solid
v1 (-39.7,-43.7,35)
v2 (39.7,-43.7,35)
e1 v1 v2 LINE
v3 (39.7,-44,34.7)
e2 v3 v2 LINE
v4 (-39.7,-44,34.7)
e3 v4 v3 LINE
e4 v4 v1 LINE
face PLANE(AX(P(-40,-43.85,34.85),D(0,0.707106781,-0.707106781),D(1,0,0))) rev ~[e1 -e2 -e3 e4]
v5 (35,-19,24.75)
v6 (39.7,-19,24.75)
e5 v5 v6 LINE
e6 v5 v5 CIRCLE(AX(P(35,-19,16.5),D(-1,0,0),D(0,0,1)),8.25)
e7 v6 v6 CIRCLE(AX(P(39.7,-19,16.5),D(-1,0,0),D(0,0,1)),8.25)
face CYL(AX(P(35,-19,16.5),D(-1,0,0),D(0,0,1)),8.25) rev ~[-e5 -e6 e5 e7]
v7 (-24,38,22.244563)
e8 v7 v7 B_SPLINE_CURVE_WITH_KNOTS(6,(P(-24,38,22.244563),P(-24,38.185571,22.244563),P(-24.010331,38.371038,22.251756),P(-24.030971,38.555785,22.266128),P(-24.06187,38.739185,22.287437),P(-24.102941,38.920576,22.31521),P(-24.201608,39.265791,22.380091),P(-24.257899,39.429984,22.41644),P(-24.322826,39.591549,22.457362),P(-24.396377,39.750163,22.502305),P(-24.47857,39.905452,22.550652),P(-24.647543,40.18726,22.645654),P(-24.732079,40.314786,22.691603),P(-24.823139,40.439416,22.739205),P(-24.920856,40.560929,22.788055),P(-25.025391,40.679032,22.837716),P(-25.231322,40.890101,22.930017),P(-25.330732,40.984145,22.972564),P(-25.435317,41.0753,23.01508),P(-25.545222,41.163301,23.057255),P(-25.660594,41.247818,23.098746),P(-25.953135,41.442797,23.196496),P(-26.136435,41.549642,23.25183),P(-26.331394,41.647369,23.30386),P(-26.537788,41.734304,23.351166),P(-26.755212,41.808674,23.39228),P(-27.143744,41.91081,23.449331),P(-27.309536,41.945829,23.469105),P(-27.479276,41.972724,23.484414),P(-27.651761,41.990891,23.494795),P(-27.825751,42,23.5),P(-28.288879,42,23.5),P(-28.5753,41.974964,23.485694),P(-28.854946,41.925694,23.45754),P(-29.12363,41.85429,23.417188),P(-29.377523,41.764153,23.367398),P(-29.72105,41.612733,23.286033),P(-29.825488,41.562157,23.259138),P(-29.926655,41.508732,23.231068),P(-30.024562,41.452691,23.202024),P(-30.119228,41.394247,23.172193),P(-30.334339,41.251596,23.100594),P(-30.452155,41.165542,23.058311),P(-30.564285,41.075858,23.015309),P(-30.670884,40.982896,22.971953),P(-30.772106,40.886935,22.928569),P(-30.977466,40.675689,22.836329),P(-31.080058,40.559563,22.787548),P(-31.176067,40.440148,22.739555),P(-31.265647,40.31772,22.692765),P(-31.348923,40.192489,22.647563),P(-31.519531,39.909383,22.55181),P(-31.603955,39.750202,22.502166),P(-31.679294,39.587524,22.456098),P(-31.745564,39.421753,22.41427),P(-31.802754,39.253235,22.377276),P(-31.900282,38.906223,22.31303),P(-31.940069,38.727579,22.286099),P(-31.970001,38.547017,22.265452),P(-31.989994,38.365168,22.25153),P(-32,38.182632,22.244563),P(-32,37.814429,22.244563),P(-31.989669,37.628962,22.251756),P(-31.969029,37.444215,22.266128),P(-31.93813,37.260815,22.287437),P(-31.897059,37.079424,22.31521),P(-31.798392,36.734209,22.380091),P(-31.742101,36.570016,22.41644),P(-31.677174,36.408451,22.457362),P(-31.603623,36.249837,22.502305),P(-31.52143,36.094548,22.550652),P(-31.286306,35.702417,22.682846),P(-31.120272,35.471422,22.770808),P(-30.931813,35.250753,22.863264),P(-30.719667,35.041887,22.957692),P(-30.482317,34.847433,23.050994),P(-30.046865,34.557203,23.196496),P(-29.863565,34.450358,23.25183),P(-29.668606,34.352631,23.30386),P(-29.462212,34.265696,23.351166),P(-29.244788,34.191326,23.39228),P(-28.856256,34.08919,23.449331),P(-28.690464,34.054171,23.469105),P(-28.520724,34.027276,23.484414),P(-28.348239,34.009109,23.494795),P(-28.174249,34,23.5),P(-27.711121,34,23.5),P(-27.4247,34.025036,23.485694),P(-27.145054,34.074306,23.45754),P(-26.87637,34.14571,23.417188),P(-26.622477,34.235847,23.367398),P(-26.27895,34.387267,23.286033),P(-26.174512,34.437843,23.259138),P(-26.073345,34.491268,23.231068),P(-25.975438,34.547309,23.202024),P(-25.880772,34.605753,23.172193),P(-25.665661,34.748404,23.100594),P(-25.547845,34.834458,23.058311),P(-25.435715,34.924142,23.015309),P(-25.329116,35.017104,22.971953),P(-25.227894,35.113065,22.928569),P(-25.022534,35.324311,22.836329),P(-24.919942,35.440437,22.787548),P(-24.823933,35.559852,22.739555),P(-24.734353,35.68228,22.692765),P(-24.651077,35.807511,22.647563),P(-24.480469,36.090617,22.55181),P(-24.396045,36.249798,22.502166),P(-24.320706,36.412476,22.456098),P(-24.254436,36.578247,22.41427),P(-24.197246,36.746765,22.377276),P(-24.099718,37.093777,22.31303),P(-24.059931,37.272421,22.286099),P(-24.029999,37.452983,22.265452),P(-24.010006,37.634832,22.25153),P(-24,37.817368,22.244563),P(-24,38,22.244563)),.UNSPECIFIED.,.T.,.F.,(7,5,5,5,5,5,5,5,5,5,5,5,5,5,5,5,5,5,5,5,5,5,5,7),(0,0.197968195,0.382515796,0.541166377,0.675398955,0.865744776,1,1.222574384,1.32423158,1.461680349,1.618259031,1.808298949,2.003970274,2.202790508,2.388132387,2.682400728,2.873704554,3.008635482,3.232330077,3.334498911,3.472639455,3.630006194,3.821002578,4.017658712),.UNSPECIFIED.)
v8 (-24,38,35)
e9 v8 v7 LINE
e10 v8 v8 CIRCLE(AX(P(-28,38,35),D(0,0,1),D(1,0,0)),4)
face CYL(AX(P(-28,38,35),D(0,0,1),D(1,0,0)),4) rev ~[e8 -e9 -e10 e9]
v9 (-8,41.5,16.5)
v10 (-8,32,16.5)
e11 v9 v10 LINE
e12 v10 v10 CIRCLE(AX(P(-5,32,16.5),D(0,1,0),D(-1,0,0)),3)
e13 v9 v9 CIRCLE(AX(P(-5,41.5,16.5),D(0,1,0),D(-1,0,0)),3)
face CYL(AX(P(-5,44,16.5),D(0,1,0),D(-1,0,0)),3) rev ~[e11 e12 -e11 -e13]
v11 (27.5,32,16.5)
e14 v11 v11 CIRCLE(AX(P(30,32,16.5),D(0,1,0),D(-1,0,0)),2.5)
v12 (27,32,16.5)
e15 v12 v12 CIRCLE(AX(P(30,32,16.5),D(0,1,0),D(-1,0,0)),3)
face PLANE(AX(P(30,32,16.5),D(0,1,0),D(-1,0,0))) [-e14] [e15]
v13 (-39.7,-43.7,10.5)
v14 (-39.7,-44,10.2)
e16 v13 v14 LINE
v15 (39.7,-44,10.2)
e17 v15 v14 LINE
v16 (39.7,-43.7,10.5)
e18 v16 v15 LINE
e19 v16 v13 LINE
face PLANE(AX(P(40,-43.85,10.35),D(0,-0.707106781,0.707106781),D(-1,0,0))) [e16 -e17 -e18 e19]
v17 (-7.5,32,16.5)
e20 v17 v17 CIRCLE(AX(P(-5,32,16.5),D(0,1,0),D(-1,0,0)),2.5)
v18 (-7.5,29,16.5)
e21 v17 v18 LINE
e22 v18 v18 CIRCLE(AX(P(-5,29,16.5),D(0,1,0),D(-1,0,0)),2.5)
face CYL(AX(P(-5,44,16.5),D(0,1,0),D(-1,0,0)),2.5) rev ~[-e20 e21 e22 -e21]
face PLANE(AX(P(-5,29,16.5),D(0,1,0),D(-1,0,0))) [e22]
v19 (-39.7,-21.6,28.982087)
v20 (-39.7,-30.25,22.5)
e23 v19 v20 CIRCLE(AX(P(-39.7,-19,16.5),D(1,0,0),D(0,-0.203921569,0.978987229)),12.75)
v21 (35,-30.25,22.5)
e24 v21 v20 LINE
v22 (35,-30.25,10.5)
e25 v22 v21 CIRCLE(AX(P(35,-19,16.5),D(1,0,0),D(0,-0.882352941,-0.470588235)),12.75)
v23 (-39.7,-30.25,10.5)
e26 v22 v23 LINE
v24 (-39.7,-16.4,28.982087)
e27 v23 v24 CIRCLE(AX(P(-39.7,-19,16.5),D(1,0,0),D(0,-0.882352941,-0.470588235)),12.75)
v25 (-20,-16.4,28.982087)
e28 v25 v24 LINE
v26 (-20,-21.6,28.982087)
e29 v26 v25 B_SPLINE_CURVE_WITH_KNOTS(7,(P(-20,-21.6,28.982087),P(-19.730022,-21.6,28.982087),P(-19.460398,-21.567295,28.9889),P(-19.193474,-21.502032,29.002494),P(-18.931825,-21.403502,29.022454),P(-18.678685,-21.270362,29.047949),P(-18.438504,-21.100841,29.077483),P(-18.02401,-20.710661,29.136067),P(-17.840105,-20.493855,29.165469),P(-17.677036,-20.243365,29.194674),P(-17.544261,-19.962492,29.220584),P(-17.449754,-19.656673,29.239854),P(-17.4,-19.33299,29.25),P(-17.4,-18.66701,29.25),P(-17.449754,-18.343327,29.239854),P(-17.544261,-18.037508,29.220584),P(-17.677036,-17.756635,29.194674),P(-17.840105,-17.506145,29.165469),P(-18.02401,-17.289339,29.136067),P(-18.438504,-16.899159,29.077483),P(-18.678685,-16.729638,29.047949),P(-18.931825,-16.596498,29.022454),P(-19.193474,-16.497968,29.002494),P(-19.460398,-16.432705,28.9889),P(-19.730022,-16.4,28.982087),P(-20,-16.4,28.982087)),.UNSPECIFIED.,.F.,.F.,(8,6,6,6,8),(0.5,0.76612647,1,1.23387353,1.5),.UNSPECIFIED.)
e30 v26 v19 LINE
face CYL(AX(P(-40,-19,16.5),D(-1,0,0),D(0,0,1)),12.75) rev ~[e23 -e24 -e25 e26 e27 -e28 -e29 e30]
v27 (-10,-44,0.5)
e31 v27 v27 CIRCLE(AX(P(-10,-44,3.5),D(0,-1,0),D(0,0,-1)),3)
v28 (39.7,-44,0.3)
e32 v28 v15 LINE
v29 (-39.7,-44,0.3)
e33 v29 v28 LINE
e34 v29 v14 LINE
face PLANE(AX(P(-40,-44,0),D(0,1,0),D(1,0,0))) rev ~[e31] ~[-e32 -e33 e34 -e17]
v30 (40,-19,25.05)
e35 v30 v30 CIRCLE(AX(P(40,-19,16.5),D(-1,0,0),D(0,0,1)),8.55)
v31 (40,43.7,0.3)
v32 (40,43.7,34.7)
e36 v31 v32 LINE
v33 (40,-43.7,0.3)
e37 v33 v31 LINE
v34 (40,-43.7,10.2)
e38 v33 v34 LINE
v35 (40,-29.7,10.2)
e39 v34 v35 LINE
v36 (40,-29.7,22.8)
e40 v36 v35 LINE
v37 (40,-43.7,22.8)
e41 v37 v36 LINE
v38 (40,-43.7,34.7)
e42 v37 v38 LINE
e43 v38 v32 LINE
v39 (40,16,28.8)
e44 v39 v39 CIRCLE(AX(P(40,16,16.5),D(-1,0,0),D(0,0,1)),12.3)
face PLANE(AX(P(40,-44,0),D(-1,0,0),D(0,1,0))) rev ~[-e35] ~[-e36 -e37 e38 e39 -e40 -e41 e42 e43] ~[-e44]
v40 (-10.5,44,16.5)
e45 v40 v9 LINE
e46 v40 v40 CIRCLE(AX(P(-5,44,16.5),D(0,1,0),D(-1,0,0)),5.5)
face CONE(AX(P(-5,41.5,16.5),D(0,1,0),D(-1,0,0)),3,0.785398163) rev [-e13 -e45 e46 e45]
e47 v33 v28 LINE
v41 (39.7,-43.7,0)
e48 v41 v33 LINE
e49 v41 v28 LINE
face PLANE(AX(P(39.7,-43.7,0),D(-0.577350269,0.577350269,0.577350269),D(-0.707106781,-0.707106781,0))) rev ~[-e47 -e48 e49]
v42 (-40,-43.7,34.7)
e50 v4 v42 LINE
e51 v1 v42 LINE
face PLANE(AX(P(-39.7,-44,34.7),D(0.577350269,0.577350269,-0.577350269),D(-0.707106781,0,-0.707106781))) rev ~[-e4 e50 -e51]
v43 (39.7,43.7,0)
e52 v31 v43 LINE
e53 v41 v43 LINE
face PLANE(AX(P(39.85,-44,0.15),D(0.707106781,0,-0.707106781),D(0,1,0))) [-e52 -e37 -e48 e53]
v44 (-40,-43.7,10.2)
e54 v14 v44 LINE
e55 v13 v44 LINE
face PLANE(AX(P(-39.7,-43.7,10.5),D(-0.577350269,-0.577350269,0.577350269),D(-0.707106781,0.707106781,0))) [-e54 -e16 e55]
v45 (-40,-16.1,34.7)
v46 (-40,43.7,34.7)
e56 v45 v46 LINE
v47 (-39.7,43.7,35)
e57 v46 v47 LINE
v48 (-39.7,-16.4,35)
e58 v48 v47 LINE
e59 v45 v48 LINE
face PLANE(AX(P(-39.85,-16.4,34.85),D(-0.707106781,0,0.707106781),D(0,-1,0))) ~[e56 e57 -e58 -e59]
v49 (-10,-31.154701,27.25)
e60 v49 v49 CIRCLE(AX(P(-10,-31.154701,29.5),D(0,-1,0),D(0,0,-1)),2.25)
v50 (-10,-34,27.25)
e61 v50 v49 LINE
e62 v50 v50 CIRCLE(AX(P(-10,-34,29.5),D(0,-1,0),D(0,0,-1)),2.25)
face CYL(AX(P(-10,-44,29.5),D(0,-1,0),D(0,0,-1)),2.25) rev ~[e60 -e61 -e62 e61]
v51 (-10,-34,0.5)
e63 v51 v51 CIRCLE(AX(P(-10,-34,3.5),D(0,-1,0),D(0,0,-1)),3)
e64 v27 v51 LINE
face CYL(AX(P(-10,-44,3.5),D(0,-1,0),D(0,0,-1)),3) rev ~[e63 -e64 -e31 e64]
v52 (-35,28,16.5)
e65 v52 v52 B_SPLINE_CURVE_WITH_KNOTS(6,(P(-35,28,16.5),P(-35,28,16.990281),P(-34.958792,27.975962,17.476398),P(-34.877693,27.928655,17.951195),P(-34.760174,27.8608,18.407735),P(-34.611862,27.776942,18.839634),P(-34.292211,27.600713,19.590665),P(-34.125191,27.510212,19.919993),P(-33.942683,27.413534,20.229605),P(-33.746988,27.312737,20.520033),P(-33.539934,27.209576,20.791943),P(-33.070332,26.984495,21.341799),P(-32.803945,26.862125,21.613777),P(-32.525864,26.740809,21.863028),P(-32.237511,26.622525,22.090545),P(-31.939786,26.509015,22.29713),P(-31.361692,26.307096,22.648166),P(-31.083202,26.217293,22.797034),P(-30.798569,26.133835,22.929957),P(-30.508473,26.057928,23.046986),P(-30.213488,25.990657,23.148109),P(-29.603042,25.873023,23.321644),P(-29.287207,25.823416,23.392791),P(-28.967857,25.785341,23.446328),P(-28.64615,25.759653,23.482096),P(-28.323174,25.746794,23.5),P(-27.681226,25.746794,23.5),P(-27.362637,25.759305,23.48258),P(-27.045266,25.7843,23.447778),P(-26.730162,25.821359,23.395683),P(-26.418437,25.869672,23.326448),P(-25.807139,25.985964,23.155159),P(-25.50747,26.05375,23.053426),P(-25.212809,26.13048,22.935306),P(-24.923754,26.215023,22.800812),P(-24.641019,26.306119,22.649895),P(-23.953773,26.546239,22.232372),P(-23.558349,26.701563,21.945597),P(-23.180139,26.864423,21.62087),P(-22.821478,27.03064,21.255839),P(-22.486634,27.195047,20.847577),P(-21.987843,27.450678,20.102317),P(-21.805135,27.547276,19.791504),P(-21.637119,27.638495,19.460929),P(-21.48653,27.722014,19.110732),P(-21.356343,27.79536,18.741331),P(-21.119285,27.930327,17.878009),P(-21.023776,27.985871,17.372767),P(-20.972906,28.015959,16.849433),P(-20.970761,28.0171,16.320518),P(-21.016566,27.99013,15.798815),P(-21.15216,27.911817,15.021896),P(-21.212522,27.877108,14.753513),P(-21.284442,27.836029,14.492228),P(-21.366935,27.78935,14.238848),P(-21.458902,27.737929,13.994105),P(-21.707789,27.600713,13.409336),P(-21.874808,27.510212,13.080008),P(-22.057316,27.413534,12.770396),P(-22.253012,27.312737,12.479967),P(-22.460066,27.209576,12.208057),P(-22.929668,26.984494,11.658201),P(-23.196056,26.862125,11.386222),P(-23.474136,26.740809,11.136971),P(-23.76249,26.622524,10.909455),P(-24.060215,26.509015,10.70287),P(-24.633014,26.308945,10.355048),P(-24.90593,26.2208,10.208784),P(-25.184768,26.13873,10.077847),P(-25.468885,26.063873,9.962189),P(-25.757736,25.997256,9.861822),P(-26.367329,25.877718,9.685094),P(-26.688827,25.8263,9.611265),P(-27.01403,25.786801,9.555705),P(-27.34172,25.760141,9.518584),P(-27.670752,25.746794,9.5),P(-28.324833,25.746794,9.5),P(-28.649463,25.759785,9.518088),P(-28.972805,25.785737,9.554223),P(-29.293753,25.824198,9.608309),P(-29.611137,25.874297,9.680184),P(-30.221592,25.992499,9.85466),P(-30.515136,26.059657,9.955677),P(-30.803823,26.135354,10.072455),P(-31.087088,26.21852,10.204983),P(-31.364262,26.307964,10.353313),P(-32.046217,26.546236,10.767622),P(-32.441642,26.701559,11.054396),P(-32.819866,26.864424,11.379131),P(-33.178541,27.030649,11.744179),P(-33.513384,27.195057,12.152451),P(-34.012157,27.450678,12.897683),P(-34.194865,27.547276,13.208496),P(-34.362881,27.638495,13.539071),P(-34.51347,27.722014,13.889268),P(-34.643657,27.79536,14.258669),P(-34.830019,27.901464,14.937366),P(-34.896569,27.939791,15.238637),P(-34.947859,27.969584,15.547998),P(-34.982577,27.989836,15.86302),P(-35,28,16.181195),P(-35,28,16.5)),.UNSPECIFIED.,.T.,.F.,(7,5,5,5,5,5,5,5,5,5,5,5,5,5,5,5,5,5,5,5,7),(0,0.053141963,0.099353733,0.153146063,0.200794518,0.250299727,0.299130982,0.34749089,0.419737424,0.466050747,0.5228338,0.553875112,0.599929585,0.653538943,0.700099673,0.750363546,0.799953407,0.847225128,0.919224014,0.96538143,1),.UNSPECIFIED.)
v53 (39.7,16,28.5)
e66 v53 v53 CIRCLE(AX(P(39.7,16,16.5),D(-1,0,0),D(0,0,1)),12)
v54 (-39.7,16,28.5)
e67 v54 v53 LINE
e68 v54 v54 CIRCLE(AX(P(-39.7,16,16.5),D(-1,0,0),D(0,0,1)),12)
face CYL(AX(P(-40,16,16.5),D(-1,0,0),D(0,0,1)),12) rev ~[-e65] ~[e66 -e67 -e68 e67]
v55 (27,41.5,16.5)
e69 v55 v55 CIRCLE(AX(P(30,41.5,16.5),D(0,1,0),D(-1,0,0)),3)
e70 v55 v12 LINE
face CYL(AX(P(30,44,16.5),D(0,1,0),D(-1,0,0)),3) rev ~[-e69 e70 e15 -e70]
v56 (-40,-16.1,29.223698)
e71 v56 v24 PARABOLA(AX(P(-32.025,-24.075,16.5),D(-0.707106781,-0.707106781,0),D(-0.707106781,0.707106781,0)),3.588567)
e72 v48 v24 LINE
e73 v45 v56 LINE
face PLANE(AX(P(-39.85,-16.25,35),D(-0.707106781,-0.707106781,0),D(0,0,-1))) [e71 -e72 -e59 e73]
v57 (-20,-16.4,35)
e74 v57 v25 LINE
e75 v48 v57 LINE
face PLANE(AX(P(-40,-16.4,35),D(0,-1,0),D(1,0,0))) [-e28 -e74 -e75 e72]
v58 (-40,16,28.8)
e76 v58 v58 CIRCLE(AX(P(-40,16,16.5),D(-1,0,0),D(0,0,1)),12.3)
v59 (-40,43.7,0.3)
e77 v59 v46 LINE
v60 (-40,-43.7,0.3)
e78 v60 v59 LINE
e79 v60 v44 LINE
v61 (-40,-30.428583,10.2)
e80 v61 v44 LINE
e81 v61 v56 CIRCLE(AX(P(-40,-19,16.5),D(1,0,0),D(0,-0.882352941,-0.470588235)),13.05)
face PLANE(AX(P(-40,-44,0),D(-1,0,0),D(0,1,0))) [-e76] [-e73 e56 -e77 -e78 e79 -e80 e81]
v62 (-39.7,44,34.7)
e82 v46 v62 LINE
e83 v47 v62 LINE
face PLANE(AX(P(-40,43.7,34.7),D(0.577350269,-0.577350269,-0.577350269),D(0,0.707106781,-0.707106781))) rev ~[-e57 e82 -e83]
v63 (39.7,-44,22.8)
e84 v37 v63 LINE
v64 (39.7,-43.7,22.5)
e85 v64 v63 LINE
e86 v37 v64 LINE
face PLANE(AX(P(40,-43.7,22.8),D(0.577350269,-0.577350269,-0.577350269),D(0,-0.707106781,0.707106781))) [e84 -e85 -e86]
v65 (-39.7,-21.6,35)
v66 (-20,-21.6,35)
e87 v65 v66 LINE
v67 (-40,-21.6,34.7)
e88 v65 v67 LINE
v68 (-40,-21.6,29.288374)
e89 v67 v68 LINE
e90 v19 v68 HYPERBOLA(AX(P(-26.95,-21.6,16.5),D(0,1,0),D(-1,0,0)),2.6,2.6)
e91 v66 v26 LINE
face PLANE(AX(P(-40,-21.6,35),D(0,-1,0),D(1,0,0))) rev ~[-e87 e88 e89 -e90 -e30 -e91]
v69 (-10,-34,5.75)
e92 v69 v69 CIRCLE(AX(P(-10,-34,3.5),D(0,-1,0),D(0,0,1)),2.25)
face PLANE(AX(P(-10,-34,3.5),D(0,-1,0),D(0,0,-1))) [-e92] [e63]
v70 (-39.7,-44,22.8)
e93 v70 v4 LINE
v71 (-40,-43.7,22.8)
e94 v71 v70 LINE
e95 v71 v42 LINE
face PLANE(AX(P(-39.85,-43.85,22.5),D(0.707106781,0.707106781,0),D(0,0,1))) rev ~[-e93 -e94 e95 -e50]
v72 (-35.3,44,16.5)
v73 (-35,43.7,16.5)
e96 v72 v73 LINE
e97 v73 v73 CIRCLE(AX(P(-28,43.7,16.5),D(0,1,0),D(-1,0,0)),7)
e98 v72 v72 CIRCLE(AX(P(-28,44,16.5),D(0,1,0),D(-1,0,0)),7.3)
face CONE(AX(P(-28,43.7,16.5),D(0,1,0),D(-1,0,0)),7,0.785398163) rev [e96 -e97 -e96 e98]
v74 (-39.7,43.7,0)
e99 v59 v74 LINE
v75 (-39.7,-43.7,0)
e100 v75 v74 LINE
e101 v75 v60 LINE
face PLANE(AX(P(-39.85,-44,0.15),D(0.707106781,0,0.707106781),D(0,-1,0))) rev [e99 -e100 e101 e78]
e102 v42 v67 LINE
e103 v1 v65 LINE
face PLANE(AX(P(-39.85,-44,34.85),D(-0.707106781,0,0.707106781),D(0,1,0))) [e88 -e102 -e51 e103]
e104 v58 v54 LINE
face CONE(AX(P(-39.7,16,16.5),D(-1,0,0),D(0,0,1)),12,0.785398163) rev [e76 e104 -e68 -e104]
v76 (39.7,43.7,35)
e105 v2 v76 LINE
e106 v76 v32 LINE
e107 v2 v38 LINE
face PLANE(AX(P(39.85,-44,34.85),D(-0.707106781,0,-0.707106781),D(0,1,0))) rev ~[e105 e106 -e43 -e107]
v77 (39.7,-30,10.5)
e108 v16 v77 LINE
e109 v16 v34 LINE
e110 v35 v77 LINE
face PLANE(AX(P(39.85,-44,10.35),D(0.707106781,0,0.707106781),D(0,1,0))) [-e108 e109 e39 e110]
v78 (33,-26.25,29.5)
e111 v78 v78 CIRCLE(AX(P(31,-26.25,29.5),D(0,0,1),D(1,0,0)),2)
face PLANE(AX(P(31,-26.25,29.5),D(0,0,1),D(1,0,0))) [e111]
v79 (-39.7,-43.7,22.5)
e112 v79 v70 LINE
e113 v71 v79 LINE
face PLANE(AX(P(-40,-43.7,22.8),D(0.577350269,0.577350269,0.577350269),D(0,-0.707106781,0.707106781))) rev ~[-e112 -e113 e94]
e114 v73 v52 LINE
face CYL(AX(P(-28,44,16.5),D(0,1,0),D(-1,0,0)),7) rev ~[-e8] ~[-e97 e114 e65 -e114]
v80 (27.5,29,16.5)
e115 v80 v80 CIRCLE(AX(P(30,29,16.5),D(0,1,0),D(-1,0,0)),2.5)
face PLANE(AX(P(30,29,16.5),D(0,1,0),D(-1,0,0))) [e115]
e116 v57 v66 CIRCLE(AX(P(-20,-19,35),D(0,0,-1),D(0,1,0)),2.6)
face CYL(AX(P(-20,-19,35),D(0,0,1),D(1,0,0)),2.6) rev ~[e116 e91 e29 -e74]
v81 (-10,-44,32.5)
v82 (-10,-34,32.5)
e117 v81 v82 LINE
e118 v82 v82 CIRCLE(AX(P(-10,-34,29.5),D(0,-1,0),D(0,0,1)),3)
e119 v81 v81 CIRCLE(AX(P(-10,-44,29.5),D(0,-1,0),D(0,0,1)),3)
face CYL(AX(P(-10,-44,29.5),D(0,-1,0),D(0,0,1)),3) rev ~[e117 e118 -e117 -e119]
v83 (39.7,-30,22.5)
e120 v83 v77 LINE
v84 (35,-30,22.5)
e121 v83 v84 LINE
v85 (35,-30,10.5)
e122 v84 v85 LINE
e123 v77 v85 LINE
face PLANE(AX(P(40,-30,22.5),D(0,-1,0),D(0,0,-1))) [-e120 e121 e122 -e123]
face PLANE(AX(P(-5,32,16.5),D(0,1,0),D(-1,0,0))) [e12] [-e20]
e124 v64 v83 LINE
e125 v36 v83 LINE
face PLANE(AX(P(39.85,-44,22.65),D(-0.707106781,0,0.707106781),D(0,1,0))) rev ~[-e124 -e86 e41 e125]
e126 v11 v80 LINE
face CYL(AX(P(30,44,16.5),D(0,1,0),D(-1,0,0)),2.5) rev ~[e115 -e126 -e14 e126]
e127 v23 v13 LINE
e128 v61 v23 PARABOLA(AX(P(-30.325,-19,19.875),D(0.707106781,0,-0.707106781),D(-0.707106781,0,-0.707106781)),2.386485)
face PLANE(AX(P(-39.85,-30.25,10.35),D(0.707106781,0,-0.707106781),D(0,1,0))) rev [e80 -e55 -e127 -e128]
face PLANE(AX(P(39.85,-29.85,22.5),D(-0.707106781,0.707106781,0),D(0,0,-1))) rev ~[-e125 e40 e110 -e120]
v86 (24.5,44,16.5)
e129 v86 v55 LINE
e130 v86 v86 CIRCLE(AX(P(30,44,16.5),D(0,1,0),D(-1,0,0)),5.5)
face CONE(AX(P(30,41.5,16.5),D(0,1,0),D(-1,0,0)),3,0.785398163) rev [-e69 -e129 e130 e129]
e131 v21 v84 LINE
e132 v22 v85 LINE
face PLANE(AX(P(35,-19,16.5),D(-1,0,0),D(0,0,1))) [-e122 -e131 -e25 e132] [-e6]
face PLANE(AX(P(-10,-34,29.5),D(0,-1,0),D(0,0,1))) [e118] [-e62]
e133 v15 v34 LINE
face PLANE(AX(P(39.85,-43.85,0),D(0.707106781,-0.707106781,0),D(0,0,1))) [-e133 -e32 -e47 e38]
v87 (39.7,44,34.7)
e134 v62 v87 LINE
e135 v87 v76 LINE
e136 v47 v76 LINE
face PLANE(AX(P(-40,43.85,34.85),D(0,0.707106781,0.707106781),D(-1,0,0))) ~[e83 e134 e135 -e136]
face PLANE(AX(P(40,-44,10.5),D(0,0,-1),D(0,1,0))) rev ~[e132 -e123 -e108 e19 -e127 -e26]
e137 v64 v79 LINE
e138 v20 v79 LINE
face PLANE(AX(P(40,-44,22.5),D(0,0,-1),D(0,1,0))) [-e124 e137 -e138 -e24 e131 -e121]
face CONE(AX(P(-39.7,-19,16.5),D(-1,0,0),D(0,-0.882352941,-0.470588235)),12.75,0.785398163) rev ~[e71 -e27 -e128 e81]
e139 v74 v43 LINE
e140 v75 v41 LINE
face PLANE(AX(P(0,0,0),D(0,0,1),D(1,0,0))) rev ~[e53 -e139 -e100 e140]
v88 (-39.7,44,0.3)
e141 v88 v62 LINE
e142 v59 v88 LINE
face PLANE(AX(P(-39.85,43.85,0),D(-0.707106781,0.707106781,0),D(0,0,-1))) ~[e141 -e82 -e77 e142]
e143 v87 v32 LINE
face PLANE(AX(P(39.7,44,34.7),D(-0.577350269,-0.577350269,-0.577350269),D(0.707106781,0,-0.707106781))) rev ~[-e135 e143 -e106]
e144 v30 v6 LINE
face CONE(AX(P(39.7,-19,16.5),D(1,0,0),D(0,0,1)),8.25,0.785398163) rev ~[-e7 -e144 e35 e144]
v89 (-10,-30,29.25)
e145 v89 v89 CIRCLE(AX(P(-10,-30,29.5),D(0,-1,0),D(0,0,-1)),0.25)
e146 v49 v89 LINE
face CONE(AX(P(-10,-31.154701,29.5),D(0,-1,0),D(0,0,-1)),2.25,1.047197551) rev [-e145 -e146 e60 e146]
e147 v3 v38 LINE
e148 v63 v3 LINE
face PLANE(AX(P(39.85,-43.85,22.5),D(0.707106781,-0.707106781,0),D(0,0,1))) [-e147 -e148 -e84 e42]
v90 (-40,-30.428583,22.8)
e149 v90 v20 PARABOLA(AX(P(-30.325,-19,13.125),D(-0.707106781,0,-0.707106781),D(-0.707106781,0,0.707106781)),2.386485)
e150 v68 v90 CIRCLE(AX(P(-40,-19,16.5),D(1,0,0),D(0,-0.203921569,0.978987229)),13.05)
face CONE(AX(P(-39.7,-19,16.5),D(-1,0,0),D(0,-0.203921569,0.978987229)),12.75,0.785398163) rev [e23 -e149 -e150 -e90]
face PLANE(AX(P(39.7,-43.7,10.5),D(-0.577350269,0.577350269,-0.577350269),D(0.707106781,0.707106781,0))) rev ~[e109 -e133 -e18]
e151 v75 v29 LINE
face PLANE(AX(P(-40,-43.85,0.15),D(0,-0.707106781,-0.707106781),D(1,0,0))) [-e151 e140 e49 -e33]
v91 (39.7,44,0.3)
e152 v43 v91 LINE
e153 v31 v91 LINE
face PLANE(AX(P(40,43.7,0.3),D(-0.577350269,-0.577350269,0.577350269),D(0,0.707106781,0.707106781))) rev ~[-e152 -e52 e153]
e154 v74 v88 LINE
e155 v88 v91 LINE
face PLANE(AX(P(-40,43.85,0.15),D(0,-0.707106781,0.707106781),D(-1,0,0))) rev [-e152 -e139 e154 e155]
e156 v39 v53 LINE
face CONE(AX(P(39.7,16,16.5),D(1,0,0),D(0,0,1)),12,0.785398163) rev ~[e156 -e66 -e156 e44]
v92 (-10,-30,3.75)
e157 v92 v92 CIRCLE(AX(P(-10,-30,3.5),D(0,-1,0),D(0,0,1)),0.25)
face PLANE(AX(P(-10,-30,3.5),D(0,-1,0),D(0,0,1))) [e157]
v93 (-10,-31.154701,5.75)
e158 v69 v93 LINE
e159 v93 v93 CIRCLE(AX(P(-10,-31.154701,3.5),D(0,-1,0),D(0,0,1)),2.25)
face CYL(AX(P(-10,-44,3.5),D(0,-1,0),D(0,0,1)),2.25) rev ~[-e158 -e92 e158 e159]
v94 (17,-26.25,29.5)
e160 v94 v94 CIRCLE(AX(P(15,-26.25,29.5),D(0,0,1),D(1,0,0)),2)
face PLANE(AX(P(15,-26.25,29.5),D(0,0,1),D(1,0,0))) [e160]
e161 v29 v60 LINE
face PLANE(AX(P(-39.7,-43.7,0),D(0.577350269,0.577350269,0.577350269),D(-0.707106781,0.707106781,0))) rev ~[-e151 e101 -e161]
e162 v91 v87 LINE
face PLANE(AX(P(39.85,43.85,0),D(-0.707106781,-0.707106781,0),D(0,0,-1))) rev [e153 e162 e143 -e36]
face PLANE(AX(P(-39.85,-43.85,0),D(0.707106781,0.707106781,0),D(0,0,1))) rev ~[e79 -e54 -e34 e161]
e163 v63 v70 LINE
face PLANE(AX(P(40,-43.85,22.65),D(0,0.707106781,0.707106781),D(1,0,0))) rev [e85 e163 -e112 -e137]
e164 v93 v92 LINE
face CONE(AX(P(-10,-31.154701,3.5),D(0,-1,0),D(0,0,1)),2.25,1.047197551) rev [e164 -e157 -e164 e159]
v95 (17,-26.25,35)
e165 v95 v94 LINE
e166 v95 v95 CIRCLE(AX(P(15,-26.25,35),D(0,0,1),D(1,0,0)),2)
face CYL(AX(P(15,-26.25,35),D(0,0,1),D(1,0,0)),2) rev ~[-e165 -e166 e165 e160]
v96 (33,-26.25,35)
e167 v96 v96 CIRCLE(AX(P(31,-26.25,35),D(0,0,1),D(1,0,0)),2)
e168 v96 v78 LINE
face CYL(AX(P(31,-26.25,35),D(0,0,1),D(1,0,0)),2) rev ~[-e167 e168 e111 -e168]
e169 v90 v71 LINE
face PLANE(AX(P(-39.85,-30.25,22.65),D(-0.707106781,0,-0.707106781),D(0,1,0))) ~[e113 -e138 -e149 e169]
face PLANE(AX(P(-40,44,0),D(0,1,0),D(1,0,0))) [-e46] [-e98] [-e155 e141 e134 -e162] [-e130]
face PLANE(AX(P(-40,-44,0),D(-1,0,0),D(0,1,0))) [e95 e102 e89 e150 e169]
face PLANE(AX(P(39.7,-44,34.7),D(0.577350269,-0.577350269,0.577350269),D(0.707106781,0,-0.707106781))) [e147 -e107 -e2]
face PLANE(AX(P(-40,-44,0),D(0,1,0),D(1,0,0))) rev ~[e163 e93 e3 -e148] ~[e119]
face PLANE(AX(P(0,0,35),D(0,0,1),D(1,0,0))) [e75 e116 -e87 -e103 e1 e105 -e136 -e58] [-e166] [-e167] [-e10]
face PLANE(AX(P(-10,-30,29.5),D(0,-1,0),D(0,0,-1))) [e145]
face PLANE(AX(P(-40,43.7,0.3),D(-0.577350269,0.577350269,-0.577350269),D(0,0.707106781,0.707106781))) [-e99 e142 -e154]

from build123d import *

# Parameters (mm, degrees)
ESQUISSE1_W                   = 80
ESQUISSE1_H                   = 88
BASE_EXTRUSION_DEPTH          = 35
ESQUISSE4_R                   = 12
BOSS_EXTRU_2_DEPTH            = 80
ESQUISSE5_R                   = 12
ENL_V_MAT_EXTRU_1_DEPTH       = 145
ESQUISSE6_W                   = 12
ESQUISSE6_H                   = 14
ENL_V_MAT_EXTRU_2_DEPTH       = 145
ESQUISSE12_R                  = 12.75
ENL_V_MAT_EXTRU_4_DEPTH       = 75
ESQUISSE13_R                  = 8.25
ENL_V_MAT_EXTRU_5_DEPTH       = 94.733665244
ESQUISSE17_W                  = 20
ESQUISSE17_H                  = 5.2
ENL_V_MAT_EXTRU_9_DEPTH       = 10
ESQUISSE18_R                  = 2.6
ENL_V_MAT_EXTRU_10_DEPTH      = 10
ESQUISSE20_R                  = 2.25
ENL_V_MAT_EXTRU_12_DEPTH      = 14
ESQUISSE21_R                  = 3
ENL_V_MAT_EXTRU_13_DEPTH      = 10
CHANFREIN9_SIZE               = 1.154700538
CHANFREIN9_SIZE2              = 2
CHANFREIN20_SIZE              = 1.154700538
CHANFREIN20_SIZE2             = 2
ESQUISSE22_R                  = 2
ENL_V_MAT_EXTRU_15_DEPTH      = 5.5
ESQUISSE24_R                  = 7
ENL_V_MAT_EXTRU_23_DEPTH      = 25
ENL_V_MAT_EXTRU_24_REACH      = 71
ENL_V_MAT_EXTRU_24_END_RADIUS = 7
ESQUISSE25_R                  = 4
ESQUISSE26_R                  = 2.5
ENL_V_MAT_EXTRU_25_DEPTH      = 15
ESQUISSE28_R                  = 3
ENL_V_MAT_EXTRU_26_DEPTH      = 12
CHANFREIN27_SIZE              = 2.5
CHANFREIN29_SIZE              = 0.3


with BuildPart() as part:
    # Esquisse1 → Base-Extrusion (new body)
    with BuildSketch(Plane.XY):
        Rectangle(ESQUISSE1_W, ESQUISSE1_H)
    extrude(amount=BASE_EXTRUSION_DEPTH)

    # Esquisse4 → Boss.-Extru.2 (add, through all)
    with BuildSketch(Plane.ZY.offset(40)):
        with Locations((16.5, 16)):
            Circle(ESQUISSE4_R)
    extrude(amount=-BOSS_EXTRU_2_DEPTH)

    # Esquisse5 → Enlèv. mat.-Extru.1 (cut)
    with BuildSketch(Plane.ZY.offset(40)):
        with Locations((16.5, 16)):
            Circle(ESQUISSE5_R)
    extrude(amount=-ENL_V_MAT_EXTRU_1_DEPTH, mode=Mode.SUBTRACT)

    # Esquisse6 → Enlèv. mat.-Extru.2 (cut)
    with BuildSketch(Plane(origin=(40, 0, 0), x_dir=(0, 0, -1), z_dir=(1, 0, 0))):
        with Locations((-16.5, -37)):
            Rectangle(ESQUISSE6_W, ESQUISSE6_H)
    extrude(amount=-ENL_V_MAT_EXTRU_2_DEPTH, mode=Mode.SUBTRACT)

    # Esquisse12 → Enlèv. mat.-Extru.4 (cut)
    with BuildSketch(Plane.ZY.offset(40)):
        with Locations((16.5, -19)):
            Circle(ESQUISSE12_R)
    extrude(amount=-ENL_V_MAT_EXTRU_4_DEPTH, mode=Mode.SUBTRACT)

    # Esquisse13 → Enlèv. mat.-Extru.5 (cut, through all)
    with BuildSketch(Plane.ZY.offset(-35)):
        with Locations((16.5, -19)):
            Circle(ESQUISSE13_R)
    extrude(amount=-ENL_V_MAT_EXTRU_5_DEPTH, mode=Mode.SUBTRACT)

    # Esquisse17 → Enlèv. mat.-Extru.9 (cut)
    with BuildSketch(Plane.XY.offset(35)):
        with Locations((-30, -19)):
            Rectangle(ESQUISSE17_W, ESQUISSE17_H)
    extrude(amount=-ENL_V_MAT_EXTRU_9_DEPTH, mode=Mode.SUBTRACT)

    # Esquisse18 → Enlèv. mat.-Extru.10 (cut)
    with BuildSketch(Plane.XY.offset(35)):
        with Locations((-20, -19)):
            Circle(ESQUISSE18_R)
    extrude(amount=-ENL_V_MAT_EXTRU_10_DEPTH, mode=Mode.SUBTRACT)

    # Esquisse20 → Enlèv. mat.-Extru.12 (cut)
    with BuildSketch(Plane.XZ.offset(44)):
        with Locations(Location((-10, 29.5, 0), (0, 0, 270))):
            Circle(ESQUISSE20_R)
        with Locations(Location((-10, 3.5, 0), (0, 0, 90))):
            Circle(ESQUISSE20_R)
    extrude(amount=-ENL_V_MAT_EXTRU_12_DEPTH, mode=Mode.SUBTRACT)

    # Esquisse21 → Enlèv. mat.-Extru.13 (cut)
    with BuildSketch(Plane.XZ.offset(44)):
        with Locations(Location((-10, 3.5, 0), (0, 0, 270))):
            Circle(ESQUISSE21_R)
        with Locations(Location((-10, 29.5, 0), (0, 0, 90))):
            Circle(ESQUISSE21_R)
    extrude(amount=-ENL_V_MAT_EXTRU_13_DEPTH, mode=Mode.SUBTRACT)

    # Chanfrein9
    chanfrein9_edges = [part.edges().sort_by_distance(p)[0] for p in [
        (-10, -30, 1.25),
    ]]
    chanfrein9_side = [part.faces().sort_by_distance(p)[0] for p in [
        (-10, -32, 1.25),
    ]]
    chamfer(chanfrein9_edges, length=CHANFREIN9_SIZE, length2=CHANFREIN9_SIZE2, reference=chanfrein9_side[0])

    # Chanfrein20
    chanfrein20_edges = [part.edges().sort_by_distance(p)[0] for p in [
        (-10, -30, 31.75),
    ]]
    chanfrein20_side = [part.faces().sort_by_distance(p)[0] for p in [
        (-10, -32, 31.75),
    ]]
    chamfer(chanfrein20_edges, length=CHANFREIN20_SIZE, length2=CHANFREIN20_SIZE2, reference=chanfrein20_side[0])

    # Esquisse22 → Enlèv. mat.-Extru.15 (cut)
    with BuildSketch(Plane.XY.offset(35)):
        with Locations((31, -26.25)):
            Circle(ESQUISSE22_R)
        with Locations((15, -26.25)):
            Circle(ESQUISSE22_R)
    extrude(amount=-ENL_V_MAT_EXTRU_15_DEPTH, mode=Mode.SUBTRACT)

    # Esquisse24 → Enlèv. mat.-Extru.23 (cut)
    with BuildSketch(Plane(origin=(0, 44, 0), x_dir=(-1, 0, 0), z_dir=(0, 1, 0))):
        with Locations((28, 16.5)):
            Circle(ESQUISSE24_R)
    extrude(amount=-ENL_V_MAT_EXTRU_23_DEPTH, mode=Mode.SUBTRACT)

    # Enlèv. mat.-Extru.24: up to this cylinder (the profile starts outside it)
    enl_v_mat_extru_24_end = Plane(origin=(-28, 38, 16.5), z_dir=(0, 1, 0)) * Cylinder(ENL_V_MAT_EXTRU_24_END_RADIUS, 157, mode=Mode.PRIVATE)
    # Esquisse25 → Enlèv. mat.-Extru.24 (cut, up to the surface)
    with BuildSketch(Plane.XY.offset(35), mode=Mode.PRIVATE) as enl_v_mat_extru_24_sk1:
        with Locations((-28, 38)):
            Circle(ESQUISSE25_R)
    enl_v_mat_extru_24_tool1 = extrude(enl_v_mat_extru_24_sk1.sketch, amount=-ENL_V_MAT_EXTRU_24_REACH, mode=Mode.PRIVATE) - enl_v_mat_extru_24_end
    add(enl_v_mat_extru_24_tool1.solids().sort_by_distance((-28, 38, 35))[0], mode=Mode.SUBTRACT)

    # Esquisse26 → Enlèv. mat.-Extru.25 (cut)
    with BuildSketch(Plane(origin=(0, 44, 0), x_dir=(-1, 0, 0), z_dir=(0, 1, 0))):
        with Locations((-30, 16.5)):
            Circle(ESQUISSE26_R)
        with Locations((5, 16.5)):
            Circle(ESQUISSE26_R)
    extrude(amount=-ENL_V_MAT_EXTRU_25_DEPTH, mode=Mode.SUBTRACT)

    # Esquisse28 → Enlèv. mat.-Extru.26 (cut)
    with BuildSketch(Plane(origin=(0, 44, 0), x_dir=(-1, 0, 0), z_dir=(0, 1, 0))):
        with Locations((-30, 16.5)):
            Circle(ESQUISSE28_R)
        with Locations((5, 16.5)):
            Circle(ESQUISSE28_R)
    extrude(amount=-ENL_V_MAT_EXTRU_26_DEPTH, mode=Mode.SUBTRACT)

    # Chanfrein27
    chanfrein27_edges = [part.edges().sort_by_distance(p)[0] for p in [
        (33, 44, 16.5),
        (-2, 44, 16.5),
    ]]
    chamfer(chanfrein27_edges, length=CHANFREIN27_SIZE)

    # Chanfrein29
    chanfrein29_edges = [part.edges().sort_by_distance(p)[0] for p in [
        (40, 0, 35),
        (-21, 44, 16.5),
        (0, 44, 35),
        (40, 16, 4.5),
        (-40, 16, 4.5),
        (40, -44, 5.25),
        (-40, -44, 5.25),
        (0, -44, 10.5),
        (0, -44, 22.5),
        (40, -37, 22.5),
        (40, -30, 16.5),
        (40, -37, 10.5),
        (-40, -37.125, 22.5),
        (-40, 13.8, 35),
        (-40, -37.125, 10.5),
        (0, 44, 0),
        (-40, -26.64591319, 26.703063829),
        (40, 0, 0),
        (0, -44, 0),
        (40, -19, 8.25),
        (-40, 0, 0),
        (-40, -8.796936171, 8.85408681),
        (-40, -32.8, 35),
        (-40, -16.4, 31.991043583),
        (0, -44, 35),
        (-40, 44, 17.5),
        (40, 44, 17.5),
        (40, -44, 28.75),
        (-40, -44, 28.75),
    ]]
    chamfer(chanfrein29_edges, length=CHANFREIN29_SIZE)


solid = part.part
